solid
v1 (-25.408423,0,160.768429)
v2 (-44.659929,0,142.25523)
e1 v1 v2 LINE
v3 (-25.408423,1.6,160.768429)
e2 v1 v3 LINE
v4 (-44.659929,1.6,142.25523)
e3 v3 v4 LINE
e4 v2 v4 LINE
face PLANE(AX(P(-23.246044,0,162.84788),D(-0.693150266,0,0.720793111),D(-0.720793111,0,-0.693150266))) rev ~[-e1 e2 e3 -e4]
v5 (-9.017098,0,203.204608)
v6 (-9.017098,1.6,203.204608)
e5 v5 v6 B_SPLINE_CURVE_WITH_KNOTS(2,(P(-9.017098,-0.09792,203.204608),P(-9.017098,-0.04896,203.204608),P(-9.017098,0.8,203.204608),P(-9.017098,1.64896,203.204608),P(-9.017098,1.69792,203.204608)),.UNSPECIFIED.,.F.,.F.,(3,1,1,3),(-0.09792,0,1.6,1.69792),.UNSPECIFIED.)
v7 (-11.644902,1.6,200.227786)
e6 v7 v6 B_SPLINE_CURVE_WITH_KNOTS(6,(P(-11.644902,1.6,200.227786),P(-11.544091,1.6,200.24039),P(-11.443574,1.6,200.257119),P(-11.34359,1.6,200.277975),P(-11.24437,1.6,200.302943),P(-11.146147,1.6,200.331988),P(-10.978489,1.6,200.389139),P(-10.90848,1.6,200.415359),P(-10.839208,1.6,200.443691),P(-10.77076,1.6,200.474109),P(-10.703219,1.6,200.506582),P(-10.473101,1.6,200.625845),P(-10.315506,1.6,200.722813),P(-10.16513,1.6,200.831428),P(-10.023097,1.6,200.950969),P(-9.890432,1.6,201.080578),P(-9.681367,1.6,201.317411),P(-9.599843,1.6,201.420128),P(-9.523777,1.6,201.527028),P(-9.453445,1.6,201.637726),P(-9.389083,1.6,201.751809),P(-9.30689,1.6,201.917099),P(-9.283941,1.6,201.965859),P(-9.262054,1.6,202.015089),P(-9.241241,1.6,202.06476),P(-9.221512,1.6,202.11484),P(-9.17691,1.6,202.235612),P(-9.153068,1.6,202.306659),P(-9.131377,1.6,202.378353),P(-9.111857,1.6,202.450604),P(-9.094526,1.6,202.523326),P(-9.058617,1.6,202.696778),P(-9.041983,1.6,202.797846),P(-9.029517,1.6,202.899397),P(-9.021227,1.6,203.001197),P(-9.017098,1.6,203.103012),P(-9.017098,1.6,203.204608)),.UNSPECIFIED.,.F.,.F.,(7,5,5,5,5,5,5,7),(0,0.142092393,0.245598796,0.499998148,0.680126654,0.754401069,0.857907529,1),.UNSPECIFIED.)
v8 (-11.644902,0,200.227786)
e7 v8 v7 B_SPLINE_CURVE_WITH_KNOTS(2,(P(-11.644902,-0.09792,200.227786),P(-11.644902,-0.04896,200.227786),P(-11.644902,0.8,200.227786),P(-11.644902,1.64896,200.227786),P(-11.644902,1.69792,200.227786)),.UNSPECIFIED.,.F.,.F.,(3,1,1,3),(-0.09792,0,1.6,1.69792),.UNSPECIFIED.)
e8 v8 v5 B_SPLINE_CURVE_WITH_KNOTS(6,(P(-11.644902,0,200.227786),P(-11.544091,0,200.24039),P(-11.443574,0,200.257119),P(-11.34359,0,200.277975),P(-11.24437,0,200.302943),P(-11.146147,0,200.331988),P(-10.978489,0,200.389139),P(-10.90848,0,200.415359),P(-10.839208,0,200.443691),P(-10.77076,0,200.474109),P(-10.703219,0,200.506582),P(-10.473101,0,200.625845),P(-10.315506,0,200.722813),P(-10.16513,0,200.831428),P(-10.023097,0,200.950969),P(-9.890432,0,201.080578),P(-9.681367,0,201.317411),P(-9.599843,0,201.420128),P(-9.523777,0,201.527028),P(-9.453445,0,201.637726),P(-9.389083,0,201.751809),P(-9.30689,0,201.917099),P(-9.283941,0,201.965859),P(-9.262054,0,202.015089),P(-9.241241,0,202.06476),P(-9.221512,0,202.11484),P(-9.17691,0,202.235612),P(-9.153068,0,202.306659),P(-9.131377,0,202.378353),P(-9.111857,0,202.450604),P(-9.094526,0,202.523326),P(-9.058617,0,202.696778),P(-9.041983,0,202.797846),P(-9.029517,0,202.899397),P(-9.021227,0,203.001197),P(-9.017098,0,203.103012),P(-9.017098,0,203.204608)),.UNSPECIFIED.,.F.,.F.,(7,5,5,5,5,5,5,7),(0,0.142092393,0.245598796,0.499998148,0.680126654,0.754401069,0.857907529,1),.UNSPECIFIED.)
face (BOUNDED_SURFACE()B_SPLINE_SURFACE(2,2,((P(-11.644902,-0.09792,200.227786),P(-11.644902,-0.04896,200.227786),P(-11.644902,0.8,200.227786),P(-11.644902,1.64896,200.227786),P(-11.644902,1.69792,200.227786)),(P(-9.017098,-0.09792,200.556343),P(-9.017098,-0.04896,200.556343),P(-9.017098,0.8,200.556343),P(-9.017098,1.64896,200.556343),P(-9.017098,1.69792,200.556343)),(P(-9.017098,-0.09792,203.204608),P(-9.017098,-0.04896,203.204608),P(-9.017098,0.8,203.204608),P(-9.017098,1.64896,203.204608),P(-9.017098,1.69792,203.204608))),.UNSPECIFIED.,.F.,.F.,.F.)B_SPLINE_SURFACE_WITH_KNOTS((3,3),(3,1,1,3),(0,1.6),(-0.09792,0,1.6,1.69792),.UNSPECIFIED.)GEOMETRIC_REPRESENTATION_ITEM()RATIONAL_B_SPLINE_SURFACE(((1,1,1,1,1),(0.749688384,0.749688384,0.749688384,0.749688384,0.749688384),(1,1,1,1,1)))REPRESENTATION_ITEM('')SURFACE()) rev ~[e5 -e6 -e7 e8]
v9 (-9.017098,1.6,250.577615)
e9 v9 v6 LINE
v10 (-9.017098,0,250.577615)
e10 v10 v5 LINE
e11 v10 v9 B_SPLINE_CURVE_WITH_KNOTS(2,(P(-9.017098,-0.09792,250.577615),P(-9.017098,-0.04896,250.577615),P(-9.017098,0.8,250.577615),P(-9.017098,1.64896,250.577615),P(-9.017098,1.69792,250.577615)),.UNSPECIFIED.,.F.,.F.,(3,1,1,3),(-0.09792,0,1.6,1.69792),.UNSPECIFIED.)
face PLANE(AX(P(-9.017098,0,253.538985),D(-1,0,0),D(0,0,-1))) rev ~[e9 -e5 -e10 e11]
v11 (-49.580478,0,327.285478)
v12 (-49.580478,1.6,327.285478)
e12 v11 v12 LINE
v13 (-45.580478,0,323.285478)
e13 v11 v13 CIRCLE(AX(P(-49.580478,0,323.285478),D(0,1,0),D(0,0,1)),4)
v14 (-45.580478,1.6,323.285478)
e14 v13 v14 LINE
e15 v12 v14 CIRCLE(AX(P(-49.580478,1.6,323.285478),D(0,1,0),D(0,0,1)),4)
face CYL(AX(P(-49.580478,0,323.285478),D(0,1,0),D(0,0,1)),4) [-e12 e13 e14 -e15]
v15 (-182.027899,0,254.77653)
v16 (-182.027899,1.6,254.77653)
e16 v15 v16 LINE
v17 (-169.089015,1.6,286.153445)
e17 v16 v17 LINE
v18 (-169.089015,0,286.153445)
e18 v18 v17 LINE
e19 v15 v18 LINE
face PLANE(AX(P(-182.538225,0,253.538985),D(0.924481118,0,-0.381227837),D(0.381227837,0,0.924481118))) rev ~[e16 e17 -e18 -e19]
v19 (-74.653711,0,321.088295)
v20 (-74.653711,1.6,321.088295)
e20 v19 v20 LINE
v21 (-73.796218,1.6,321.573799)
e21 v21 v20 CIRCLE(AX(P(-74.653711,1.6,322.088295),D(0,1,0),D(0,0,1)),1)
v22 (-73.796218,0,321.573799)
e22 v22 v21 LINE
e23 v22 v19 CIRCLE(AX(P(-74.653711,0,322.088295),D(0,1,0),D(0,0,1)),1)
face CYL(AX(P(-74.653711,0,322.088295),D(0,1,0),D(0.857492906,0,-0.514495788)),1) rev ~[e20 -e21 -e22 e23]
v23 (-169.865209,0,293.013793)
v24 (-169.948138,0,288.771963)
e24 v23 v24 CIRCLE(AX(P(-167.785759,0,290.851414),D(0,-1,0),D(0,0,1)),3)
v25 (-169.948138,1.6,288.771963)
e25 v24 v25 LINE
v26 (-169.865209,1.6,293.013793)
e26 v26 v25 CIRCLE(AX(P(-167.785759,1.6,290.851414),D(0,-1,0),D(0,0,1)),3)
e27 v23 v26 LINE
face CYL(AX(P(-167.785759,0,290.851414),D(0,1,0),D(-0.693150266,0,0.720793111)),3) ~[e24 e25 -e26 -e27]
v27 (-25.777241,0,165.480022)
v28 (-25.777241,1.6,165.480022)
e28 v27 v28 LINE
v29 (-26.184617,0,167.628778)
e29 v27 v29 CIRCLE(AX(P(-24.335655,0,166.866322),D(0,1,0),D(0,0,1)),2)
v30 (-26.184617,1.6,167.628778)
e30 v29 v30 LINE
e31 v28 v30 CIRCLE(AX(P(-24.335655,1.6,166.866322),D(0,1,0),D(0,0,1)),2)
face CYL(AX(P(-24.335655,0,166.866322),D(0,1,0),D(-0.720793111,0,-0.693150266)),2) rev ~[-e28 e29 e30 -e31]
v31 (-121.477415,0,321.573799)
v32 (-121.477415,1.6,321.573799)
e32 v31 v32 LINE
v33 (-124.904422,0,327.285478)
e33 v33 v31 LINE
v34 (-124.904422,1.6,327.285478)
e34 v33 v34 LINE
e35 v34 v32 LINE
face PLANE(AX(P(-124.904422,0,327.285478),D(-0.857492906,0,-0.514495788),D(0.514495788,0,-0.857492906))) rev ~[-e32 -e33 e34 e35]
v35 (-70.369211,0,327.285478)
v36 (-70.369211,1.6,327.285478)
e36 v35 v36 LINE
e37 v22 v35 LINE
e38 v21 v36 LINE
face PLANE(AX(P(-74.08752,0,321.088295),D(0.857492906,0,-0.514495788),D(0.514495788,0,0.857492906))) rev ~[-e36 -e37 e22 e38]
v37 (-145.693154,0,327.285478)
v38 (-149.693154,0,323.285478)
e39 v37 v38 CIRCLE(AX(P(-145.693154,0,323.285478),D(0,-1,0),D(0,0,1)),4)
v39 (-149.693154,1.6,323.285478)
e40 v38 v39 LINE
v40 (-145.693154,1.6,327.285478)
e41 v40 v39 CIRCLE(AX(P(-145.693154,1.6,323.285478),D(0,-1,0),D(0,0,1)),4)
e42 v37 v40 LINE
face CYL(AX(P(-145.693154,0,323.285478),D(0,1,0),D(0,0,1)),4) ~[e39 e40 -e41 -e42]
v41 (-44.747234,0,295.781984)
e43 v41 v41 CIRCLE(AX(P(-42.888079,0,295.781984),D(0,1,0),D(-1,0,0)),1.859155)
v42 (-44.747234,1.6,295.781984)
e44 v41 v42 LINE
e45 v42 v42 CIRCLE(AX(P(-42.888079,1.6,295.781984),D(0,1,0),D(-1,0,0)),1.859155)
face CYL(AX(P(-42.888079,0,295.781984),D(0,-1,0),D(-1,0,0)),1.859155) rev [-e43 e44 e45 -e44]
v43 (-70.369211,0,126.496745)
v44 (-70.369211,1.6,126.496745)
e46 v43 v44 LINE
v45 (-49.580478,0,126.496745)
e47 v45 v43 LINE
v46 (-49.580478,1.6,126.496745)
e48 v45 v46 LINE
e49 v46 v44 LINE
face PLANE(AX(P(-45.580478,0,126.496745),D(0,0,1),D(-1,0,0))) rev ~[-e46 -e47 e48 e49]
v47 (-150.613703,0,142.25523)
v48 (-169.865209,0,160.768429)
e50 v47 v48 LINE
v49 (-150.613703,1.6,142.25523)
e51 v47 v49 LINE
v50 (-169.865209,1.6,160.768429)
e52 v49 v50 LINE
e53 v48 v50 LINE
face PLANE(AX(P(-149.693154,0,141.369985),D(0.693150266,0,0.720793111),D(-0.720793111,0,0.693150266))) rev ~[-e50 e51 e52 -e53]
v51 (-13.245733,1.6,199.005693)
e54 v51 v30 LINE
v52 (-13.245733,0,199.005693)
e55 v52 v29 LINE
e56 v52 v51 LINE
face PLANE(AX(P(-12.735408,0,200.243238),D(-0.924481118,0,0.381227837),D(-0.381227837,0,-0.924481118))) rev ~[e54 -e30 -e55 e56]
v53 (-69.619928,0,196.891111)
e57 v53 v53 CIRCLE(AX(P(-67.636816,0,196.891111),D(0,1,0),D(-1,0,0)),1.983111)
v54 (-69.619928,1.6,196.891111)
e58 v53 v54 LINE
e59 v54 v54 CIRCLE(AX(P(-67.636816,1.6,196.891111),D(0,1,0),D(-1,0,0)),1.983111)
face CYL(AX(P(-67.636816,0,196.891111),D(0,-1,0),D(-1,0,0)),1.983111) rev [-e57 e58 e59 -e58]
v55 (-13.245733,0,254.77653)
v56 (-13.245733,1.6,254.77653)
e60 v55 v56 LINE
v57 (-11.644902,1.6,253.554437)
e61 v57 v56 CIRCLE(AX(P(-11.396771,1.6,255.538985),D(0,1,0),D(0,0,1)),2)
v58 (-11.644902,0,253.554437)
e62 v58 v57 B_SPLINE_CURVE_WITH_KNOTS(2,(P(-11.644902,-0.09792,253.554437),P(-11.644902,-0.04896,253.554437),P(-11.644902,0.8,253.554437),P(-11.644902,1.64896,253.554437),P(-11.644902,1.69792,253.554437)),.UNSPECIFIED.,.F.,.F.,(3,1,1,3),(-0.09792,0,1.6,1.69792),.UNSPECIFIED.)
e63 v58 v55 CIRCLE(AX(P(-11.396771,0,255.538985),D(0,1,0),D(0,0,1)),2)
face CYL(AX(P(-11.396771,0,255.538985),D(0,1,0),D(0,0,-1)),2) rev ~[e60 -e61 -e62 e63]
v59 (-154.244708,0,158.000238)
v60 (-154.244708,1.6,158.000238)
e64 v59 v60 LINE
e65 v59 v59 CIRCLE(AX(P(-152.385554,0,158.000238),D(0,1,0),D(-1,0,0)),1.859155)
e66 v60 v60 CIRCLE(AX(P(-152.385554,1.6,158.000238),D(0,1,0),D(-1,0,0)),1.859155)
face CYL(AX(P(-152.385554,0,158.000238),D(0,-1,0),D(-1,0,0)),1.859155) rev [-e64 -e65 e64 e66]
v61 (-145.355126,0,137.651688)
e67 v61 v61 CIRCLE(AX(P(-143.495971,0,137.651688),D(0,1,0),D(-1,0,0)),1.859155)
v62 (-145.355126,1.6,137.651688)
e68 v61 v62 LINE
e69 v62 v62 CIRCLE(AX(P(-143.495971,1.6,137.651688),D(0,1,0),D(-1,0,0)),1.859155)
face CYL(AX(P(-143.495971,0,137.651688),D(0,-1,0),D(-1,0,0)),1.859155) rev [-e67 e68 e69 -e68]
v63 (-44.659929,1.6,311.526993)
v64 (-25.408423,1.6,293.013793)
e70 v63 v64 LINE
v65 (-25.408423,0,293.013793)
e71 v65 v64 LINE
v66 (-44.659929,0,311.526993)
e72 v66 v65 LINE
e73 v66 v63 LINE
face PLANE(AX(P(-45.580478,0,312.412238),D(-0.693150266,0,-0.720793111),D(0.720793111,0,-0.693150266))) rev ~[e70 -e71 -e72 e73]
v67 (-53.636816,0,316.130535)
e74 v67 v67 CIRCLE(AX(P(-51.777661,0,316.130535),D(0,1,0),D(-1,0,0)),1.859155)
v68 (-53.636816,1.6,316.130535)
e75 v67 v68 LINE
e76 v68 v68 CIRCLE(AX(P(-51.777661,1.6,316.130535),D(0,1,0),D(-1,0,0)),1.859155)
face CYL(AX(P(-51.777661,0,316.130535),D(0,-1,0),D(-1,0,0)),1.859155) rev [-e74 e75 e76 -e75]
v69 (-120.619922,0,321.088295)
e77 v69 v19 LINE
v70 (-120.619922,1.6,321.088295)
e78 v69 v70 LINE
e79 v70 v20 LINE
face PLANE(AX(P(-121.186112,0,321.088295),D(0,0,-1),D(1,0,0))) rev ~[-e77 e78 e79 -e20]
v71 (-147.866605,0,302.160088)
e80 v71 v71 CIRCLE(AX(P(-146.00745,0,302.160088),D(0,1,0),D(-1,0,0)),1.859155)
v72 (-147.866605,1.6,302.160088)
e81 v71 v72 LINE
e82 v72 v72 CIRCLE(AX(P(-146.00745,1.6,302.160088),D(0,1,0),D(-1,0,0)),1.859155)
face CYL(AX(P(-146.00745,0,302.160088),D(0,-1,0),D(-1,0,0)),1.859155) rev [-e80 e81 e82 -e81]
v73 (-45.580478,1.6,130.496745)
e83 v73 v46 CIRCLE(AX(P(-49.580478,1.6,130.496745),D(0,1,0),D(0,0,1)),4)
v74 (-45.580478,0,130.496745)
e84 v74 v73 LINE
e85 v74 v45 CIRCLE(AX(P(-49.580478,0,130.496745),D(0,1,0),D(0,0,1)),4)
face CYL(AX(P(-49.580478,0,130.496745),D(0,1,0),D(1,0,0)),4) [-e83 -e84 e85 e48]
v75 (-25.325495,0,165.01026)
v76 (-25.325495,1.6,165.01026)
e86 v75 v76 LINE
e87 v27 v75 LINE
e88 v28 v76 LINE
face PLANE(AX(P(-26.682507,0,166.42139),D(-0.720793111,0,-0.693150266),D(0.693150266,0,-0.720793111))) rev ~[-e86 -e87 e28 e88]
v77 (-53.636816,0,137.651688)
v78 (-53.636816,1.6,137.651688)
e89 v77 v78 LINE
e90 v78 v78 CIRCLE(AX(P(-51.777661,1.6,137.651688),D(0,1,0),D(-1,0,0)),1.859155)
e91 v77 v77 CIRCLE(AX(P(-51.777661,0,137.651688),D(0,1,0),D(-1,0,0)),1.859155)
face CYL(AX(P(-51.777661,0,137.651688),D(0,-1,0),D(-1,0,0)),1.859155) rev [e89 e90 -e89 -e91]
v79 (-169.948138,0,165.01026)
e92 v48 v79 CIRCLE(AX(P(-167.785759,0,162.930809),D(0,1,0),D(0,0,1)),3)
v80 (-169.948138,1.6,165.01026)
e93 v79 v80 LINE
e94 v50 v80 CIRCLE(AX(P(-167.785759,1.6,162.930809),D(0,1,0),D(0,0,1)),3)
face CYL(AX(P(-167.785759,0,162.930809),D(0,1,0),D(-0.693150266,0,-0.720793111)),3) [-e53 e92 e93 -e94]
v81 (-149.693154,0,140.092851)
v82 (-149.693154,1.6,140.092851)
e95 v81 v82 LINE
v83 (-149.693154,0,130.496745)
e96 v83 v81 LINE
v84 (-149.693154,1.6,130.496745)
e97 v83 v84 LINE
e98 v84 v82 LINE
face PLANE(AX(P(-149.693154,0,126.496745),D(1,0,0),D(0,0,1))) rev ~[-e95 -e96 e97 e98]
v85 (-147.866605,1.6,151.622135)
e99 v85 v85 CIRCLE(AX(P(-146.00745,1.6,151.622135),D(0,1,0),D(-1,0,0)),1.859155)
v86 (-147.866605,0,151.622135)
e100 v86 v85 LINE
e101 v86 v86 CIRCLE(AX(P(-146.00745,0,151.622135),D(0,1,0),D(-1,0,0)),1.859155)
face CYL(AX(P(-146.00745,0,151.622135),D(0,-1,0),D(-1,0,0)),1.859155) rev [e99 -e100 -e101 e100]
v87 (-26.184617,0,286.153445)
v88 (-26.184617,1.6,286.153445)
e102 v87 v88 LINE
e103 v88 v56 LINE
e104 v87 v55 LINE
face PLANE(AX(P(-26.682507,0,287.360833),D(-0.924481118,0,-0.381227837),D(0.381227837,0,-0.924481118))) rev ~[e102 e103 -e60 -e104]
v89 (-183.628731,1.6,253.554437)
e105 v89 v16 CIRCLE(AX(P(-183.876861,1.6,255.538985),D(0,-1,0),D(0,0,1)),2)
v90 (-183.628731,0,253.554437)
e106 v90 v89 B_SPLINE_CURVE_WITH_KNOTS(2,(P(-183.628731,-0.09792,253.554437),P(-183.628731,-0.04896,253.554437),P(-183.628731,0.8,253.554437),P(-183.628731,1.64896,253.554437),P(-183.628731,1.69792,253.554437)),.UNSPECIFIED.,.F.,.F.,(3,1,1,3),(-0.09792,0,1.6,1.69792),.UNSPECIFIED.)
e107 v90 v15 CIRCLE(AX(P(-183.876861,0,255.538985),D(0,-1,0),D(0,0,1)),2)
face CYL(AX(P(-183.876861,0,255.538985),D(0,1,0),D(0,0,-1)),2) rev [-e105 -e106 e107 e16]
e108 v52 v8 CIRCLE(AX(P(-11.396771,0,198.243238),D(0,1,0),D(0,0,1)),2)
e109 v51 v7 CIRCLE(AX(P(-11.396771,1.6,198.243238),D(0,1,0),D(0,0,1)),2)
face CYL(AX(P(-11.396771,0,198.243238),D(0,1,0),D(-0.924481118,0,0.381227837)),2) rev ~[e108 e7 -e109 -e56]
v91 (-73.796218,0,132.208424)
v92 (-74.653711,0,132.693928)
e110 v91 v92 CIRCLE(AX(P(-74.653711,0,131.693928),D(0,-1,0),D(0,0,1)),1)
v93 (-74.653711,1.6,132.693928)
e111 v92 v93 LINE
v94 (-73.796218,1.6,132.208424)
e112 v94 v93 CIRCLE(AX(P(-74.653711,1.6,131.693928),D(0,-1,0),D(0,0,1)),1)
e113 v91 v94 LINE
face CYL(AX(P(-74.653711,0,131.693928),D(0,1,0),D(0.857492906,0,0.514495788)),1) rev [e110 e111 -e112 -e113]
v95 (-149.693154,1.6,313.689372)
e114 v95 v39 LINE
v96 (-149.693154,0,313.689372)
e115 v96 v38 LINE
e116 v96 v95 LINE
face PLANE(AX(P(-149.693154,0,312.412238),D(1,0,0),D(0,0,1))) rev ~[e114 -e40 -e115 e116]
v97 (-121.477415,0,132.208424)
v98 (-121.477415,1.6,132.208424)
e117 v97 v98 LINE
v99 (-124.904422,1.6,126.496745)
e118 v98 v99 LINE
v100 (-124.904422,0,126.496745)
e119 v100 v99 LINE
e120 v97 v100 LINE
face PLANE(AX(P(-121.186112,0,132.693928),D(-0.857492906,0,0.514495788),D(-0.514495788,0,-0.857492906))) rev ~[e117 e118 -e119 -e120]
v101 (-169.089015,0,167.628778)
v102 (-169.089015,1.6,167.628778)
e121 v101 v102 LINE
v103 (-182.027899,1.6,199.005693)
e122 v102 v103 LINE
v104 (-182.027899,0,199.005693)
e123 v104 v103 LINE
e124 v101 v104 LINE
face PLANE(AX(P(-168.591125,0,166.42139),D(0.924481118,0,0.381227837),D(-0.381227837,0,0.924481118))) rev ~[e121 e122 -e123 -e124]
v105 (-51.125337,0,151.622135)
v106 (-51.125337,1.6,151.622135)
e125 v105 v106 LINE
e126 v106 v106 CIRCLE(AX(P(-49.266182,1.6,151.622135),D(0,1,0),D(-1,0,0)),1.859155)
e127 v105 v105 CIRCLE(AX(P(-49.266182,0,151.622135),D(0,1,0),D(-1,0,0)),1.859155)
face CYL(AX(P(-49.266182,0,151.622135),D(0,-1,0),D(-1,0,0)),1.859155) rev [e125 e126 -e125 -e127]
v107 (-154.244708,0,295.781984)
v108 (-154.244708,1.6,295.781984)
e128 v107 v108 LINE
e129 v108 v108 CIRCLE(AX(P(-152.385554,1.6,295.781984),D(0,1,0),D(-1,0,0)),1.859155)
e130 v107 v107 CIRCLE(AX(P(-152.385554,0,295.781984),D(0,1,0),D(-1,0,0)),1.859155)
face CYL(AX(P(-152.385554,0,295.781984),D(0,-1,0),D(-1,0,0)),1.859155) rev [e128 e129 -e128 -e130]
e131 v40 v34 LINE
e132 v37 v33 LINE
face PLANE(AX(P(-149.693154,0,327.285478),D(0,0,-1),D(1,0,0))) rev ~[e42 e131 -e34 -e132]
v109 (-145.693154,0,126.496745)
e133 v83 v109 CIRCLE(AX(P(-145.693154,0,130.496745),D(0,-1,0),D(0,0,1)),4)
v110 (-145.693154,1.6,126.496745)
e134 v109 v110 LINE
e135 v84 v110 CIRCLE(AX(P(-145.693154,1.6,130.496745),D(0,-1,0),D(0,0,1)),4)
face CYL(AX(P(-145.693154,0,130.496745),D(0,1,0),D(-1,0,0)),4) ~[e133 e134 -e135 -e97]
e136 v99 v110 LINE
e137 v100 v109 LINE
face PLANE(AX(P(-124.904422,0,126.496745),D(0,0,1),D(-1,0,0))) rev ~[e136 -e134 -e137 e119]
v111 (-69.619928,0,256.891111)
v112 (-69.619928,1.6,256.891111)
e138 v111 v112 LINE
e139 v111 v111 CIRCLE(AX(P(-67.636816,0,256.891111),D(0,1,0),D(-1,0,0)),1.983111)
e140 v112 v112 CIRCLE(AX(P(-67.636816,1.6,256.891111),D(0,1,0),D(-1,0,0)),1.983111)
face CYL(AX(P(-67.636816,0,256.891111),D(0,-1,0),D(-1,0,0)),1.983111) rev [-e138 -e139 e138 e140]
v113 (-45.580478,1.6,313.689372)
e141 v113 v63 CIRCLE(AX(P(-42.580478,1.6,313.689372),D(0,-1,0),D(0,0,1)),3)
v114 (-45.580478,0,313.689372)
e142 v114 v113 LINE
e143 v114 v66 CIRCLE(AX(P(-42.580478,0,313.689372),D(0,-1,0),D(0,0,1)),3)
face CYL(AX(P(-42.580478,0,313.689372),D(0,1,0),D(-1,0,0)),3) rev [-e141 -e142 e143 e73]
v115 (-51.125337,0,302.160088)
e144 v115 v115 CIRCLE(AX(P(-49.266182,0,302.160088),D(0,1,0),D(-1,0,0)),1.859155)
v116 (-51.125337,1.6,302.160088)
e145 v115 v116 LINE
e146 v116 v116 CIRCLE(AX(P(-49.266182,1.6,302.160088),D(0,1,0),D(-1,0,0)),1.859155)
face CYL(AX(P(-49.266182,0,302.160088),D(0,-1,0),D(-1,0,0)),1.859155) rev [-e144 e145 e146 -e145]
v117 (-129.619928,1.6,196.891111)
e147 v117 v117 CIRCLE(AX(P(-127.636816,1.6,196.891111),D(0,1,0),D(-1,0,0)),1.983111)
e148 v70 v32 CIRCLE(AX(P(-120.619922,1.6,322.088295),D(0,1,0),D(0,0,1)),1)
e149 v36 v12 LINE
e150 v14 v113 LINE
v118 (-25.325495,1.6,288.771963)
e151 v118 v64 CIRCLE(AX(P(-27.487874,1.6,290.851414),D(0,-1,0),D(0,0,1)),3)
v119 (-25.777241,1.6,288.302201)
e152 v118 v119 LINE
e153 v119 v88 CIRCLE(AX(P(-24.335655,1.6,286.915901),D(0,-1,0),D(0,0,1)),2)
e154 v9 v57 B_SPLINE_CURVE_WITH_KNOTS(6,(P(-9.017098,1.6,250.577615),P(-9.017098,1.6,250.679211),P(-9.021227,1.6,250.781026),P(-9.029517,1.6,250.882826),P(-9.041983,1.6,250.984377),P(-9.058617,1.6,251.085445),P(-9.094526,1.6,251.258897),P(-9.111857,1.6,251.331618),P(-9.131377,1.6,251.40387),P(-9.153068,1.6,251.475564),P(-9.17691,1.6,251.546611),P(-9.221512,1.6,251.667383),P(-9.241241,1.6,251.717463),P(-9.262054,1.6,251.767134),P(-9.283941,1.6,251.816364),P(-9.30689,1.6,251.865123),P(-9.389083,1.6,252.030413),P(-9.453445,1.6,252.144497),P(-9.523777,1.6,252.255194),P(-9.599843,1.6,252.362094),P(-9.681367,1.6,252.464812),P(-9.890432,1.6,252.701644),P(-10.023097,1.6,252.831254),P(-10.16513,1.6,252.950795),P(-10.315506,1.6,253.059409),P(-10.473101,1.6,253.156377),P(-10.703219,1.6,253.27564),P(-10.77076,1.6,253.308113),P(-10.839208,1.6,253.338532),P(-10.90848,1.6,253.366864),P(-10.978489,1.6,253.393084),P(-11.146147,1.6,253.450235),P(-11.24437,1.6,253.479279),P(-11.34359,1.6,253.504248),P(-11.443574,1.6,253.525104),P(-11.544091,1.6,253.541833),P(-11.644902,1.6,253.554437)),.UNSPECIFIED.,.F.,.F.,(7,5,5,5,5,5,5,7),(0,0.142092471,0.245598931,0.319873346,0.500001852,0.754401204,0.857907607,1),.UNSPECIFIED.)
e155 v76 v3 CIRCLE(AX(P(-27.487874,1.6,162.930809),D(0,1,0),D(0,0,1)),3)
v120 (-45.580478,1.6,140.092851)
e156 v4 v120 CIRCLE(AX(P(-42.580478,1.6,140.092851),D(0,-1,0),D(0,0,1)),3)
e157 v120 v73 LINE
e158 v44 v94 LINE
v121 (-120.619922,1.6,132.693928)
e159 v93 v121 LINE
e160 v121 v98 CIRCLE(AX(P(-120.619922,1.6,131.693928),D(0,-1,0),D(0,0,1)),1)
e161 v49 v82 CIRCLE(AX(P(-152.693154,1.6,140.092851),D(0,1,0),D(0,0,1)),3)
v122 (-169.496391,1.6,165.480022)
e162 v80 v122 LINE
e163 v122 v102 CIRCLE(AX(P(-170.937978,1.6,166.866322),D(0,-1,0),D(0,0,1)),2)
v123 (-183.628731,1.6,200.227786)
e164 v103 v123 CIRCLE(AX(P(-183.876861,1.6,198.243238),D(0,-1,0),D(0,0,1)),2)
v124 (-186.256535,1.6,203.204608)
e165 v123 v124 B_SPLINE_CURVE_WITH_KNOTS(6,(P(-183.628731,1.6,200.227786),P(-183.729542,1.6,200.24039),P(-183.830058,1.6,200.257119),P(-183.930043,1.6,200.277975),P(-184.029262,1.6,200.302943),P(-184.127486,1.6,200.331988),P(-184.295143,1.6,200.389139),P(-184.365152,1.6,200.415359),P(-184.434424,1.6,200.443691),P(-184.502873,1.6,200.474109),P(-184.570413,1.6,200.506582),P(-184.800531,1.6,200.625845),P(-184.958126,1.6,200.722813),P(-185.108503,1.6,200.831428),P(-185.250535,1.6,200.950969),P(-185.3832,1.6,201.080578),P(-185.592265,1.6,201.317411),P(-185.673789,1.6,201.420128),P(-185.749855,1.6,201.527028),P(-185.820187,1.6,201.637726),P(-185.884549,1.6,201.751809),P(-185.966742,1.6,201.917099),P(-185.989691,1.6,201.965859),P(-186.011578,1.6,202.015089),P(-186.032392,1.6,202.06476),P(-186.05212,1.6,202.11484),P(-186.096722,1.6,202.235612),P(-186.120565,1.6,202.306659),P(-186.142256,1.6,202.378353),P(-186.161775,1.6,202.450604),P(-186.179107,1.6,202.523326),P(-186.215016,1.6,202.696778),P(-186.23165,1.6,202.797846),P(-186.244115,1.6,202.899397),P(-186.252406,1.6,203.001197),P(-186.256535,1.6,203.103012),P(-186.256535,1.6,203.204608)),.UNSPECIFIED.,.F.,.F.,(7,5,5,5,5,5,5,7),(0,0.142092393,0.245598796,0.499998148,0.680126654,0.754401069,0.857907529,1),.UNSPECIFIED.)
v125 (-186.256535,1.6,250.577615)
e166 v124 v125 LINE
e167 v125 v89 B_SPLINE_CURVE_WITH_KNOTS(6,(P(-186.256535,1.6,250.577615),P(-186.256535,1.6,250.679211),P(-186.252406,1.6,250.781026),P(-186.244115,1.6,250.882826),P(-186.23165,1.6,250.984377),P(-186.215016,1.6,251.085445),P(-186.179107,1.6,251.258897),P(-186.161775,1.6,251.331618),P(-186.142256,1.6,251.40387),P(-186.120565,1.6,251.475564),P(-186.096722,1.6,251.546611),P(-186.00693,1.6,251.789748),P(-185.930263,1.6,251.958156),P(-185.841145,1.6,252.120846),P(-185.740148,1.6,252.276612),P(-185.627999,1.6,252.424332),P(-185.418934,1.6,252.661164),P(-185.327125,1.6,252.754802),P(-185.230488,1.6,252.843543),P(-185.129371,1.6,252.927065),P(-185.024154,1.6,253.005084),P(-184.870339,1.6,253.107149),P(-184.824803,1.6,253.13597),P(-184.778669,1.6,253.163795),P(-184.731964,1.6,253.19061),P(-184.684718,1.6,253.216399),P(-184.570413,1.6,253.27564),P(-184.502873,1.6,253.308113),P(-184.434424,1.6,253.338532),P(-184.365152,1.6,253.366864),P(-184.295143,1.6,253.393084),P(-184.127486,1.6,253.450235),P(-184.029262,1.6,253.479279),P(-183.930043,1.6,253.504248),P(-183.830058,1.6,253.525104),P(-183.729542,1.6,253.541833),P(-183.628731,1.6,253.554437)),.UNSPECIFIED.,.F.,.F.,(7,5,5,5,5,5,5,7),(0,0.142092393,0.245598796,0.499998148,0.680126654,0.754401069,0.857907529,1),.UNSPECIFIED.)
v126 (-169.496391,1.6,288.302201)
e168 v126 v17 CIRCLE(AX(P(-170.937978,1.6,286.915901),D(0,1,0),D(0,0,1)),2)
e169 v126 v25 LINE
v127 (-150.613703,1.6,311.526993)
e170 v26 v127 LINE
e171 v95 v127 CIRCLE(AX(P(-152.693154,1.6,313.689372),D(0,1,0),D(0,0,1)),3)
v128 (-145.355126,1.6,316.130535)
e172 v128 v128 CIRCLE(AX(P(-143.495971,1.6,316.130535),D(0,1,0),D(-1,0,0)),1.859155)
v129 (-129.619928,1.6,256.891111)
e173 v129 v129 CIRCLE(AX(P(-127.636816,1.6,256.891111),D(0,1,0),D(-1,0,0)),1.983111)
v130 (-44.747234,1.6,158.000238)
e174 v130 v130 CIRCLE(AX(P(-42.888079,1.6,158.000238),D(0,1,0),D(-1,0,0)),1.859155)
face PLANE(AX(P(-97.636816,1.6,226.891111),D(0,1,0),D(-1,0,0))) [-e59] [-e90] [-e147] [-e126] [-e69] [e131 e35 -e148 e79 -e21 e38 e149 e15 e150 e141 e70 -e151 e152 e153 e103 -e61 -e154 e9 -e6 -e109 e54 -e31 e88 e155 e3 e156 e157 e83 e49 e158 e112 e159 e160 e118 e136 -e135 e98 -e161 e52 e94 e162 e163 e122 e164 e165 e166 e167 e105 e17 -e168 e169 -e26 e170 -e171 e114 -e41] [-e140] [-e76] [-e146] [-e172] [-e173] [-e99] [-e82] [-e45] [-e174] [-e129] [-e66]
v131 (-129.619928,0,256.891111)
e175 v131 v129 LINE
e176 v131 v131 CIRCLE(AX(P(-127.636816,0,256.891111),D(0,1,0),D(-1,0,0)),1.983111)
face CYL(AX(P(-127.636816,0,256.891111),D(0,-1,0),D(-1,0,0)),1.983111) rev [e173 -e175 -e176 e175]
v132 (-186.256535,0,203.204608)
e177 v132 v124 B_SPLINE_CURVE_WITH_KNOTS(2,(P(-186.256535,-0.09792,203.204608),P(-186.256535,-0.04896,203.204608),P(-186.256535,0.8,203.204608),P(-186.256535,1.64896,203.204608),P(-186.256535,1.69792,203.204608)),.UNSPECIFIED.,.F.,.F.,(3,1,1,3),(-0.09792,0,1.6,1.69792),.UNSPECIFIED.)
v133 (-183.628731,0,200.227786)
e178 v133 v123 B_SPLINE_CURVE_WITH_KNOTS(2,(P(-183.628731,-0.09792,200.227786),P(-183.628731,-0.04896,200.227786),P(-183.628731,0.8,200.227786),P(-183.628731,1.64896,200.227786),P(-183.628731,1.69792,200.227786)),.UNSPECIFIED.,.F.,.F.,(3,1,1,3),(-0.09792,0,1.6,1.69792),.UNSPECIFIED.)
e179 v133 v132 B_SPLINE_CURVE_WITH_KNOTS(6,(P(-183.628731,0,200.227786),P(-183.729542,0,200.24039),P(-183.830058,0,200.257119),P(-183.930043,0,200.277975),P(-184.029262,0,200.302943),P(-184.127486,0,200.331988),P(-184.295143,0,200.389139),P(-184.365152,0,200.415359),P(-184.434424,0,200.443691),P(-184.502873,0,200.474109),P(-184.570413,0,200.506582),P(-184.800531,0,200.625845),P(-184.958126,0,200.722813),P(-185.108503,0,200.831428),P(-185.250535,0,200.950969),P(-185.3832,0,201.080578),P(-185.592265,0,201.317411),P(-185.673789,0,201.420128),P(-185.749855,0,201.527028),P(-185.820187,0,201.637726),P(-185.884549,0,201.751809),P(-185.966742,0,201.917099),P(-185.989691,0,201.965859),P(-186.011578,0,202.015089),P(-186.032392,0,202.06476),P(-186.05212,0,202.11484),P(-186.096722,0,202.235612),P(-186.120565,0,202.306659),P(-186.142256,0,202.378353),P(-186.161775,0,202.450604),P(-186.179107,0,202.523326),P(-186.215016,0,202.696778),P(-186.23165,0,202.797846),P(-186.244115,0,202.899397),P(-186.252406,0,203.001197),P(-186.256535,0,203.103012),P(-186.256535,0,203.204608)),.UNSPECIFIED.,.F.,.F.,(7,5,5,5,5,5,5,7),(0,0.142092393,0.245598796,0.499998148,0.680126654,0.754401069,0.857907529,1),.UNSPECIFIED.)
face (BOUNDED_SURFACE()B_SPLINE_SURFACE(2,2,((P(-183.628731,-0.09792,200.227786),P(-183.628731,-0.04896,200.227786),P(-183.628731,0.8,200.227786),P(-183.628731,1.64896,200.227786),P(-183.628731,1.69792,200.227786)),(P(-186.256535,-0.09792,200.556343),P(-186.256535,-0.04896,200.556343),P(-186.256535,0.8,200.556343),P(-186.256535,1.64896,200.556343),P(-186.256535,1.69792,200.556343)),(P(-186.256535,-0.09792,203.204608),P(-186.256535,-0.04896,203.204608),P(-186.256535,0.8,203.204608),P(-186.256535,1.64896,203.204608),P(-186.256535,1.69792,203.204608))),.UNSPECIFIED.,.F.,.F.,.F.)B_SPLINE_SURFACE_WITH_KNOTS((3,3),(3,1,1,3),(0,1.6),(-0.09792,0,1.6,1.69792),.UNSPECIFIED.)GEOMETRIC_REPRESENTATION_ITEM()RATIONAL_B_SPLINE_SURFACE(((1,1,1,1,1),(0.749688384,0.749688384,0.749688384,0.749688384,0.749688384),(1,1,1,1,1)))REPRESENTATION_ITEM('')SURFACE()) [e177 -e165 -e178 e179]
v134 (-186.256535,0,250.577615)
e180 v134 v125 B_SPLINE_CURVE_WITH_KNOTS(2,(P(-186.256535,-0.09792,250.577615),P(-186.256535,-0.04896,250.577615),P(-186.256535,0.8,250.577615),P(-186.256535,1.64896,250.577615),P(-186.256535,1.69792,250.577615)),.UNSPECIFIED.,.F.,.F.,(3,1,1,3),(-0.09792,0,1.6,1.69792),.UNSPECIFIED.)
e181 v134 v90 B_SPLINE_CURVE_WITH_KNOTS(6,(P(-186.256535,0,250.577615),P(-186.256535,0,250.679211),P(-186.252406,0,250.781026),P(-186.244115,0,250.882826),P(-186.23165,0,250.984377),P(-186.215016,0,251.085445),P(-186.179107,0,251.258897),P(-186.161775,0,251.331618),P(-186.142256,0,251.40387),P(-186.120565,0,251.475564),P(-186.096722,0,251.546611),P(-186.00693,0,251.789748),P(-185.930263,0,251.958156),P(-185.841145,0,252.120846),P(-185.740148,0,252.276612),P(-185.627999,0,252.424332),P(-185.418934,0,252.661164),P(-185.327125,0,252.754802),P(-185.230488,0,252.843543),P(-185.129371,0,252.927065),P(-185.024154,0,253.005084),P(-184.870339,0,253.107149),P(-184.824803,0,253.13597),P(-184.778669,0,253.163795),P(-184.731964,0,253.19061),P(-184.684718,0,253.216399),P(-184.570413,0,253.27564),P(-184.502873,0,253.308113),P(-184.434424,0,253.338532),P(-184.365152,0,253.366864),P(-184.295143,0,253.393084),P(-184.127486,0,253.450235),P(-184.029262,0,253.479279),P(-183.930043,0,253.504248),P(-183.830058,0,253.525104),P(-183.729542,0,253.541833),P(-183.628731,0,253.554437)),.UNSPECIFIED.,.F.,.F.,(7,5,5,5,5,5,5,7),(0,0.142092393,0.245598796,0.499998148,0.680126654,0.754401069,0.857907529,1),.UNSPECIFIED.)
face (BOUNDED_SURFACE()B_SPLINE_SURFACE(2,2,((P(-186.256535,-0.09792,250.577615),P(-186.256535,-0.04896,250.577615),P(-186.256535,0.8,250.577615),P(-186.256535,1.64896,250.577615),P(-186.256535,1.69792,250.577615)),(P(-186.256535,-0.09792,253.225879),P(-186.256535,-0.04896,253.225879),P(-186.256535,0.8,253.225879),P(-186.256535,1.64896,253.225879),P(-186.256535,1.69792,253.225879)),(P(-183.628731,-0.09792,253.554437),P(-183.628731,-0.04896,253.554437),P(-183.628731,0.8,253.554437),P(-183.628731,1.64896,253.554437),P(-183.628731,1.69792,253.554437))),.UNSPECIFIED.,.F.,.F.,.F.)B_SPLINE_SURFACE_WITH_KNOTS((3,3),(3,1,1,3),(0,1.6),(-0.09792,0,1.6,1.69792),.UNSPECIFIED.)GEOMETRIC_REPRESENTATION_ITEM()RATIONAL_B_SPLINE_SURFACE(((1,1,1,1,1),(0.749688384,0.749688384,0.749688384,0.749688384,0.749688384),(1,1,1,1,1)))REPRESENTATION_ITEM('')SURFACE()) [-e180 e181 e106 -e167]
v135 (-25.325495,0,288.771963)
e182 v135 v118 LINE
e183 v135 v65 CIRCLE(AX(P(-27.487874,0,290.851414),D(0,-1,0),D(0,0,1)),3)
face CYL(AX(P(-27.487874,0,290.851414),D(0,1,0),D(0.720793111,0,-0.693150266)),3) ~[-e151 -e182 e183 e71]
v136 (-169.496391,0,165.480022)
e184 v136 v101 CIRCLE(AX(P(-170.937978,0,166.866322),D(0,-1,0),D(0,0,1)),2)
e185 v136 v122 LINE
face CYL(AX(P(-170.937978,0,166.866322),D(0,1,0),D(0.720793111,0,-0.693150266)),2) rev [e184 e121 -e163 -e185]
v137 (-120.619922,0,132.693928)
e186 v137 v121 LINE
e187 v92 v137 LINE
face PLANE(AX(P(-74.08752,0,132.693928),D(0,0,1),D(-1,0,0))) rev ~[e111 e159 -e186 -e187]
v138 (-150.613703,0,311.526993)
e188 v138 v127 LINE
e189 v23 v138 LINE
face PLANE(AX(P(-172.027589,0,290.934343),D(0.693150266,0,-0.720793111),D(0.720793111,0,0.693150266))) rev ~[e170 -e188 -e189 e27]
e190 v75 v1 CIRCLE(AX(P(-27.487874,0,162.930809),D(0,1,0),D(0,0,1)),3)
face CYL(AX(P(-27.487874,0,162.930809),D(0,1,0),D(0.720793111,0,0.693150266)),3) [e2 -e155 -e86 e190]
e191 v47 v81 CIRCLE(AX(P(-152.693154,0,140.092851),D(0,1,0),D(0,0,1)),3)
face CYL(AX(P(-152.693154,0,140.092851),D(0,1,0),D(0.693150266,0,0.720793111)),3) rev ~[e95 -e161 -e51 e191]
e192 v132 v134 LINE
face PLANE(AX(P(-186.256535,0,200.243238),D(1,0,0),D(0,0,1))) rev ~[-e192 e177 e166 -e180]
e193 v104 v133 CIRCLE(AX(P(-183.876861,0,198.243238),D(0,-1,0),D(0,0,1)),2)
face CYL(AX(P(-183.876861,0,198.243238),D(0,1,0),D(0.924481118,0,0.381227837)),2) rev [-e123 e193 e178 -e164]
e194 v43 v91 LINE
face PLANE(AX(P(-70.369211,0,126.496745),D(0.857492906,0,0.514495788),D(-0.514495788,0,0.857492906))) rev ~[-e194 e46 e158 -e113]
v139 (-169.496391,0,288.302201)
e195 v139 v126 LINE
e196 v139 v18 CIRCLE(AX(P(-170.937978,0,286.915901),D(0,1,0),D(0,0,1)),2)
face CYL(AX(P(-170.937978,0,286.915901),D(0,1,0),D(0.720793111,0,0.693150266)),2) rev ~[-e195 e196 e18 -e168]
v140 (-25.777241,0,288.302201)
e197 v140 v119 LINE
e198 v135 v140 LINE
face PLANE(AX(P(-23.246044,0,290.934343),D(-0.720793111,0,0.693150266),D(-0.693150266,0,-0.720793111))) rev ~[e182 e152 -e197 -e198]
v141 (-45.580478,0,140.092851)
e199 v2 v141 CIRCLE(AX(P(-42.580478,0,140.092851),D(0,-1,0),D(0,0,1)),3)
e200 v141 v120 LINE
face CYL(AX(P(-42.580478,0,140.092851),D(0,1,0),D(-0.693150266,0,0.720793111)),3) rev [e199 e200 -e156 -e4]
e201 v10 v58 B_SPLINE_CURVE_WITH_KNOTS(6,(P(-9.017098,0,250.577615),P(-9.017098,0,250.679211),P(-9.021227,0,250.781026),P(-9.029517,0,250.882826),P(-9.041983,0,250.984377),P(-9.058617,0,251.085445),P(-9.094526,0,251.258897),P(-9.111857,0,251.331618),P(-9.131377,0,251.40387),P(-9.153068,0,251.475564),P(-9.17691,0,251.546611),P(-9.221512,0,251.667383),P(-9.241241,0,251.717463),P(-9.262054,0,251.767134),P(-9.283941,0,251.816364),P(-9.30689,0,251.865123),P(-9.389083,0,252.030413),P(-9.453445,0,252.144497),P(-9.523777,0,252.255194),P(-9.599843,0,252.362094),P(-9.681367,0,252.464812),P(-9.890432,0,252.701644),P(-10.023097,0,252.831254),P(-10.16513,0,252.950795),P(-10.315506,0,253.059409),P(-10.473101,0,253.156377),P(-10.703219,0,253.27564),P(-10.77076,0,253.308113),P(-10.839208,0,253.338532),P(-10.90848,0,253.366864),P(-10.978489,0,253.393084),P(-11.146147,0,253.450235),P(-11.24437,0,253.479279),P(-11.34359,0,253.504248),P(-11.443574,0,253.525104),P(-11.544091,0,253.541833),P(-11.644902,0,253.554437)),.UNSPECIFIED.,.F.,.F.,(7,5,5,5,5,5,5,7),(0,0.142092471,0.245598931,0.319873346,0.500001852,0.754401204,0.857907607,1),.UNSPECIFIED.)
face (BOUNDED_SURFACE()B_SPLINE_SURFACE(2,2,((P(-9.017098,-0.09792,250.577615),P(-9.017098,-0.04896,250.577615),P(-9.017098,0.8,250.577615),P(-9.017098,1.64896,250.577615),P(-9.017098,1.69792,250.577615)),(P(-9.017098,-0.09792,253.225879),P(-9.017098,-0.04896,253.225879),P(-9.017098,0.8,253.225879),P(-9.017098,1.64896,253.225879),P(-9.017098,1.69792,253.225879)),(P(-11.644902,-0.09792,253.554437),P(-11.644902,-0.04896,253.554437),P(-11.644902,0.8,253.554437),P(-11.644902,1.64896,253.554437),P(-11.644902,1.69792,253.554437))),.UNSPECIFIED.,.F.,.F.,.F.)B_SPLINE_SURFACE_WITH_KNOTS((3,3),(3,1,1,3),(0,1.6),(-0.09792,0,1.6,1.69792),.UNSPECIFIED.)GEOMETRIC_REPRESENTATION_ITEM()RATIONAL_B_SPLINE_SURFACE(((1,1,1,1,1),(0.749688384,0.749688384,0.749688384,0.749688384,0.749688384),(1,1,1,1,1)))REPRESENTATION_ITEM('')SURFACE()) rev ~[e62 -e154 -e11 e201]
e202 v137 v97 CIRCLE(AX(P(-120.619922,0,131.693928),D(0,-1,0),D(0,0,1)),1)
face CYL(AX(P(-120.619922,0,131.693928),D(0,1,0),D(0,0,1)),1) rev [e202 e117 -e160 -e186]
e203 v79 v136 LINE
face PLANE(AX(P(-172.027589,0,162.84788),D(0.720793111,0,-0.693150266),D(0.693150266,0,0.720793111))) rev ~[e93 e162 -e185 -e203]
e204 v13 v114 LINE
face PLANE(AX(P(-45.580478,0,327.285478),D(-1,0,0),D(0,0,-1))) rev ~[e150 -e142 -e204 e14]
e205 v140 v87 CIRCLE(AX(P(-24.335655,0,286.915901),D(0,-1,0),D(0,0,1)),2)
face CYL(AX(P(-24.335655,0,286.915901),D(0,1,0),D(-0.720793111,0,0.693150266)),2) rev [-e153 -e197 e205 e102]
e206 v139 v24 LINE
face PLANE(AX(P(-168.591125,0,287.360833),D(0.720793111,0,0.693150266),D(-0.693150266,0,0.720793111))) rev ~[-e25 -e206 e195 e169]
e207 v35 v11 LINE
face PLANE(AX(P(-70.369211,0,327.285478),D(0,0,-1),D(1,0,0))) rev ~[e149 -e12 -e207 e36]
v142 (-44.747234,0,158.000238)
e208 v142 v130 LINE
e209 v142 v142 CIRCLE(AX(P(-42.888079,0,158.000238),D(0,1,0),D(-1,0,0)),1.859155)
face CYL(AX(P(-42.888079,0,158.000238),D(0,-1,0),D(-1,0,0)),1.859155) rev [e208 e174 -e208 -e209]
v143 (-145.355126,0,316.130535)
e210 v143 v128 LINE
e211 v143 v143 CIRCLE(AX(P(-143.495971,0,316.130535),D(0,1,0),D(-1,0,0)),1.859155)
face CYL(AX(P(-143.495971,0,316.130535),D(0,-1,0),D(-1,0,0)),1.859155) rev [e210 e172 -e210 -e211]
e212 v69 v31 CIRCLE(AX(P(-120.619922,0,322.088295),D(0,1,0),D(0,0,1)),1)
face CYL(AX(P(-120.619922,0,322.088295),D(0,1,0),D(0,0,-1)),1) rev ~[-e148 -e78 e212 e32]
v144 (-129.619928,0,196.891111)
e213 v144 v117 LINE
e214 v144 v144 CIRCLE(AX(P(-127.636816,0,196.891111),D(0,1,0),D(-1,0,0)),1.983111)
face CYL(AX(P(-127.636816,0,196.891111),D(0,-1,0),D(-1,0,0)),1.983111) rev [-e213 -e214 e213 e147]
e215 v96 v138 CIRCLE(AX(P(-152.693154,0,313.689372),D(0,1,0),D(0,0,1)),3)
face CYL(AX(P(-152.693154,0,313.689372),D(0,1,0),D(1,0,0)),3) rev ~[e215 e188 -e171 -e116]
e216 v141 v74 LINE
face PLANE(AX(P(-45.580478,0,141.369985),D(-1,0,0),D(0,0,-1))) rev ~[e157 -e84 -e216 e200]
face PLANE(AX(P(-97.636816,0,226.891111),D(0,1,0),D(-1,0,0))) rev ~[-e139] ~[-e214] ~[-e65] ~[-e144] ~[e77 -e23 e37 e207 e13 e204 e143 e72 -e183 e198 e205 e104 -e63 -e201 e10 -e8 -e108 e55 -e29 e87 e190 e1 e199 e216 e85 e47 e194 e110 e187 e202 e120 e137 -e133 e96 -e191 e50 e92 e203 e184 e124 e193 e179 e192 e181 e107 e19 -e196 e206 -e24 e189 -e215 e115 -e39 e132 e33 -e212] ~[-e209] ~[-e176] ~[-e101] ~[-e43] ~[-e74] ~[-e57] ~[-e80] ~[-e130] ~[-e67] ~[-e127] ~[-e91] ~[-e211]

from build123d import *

# Parameters (mm, degrees)
SKETCH1_R        = 1.85915493
SKETCH1_R_2      = 1.983111479
EXTRUSION1_DEPTH = 1.6
FILLET1_R        = 1
FILLET2_R        = 4
FILLET3_R        = 3
FILLET4_R        = 3
FILLET5_R        = 2
FILLET6_R        = 2
FILLET7_R        = 3
FILLET8_R        = 3
FILLET9_R        = 2
FILLET10_R       = 2
FILLET11_R       = 3


with BuildPart() as part:
    # Sketch1 → Extrusion1 (new body)
    with BuildSketch(Plane(origin=(0, 0, 0), x_dir=(-1, 0, 0), z_dir=(0, 1, 0))):
        Polygon((74.087520418, 321.088295015), (70.369210559, 327.285477572), (45.580478165, 327.285477572), (45.580478165, 312.412238135), (23.246043749, 290.934342561), (26.682507041, 287.360833055), (12.735407819, 253.538985229), (9.017097883, 253.538985229), (9.017097883, 226.891111382), (9.017097883, 200.243237534), (12.735407819, 200.243237534), (26.682507041, 166.421389708), (23.246043749, 162.847880202), (45.580478165, 141.369984628), (45.580478165, 126.496745191), (70.369210559, 126.496745191), (74.087520418, 132.693927748), (97.636816193, 132.693927748), (121.186111968, 132.693927748), (124.904421827, 126.496745191), (149.693154221, 126.496745191), (149.693154221, 141.369984628), (172.027588636, 162.847880202), (168.591125345, 166.421389708), (182.538224567, 200.243237534), (186.256534503, 200.243237534), (186.256534503, 226.891111382), (186.256534503, 253.538985229), (182.538224567, 253.538985229), (168.591125345, 287.360833055), (172.027588636, 290.934342561), (149.693154221, 312.412238135), (149.693154221, 327.285477572), (124.904421827, 327.285477572), (121.186111968, 321.088295015), (97.636816193, 321.088295015), align=None)
        with Locations((49.266182018, 151.62213525)):
            Circle(SKETCH1_R, mode=Mode.SUBTRACT)
        with Locations((51.777661187, 316.130534525)):
            Circle(SKETCH1_R, mode=Mode.SUBTRACT)
        with Locations((49.266182018, 302.160087513)):
            Circle(SKETCH1_R, mode=Mode.SUBTRACT)
        with Locations((143.495971199, 137.651688238)):
            Circle(SKETCH1_R, mode=Mode.SUBTRACT)
        with Locations((146.007450368, 151.62213525)):
            Circle(SKETCH1_R, mode=Mode.SUBTRACT)
        with Locations((143.495971199, 316.130534525)):
            Circle(SKETCH1_R, mode=Mode.SUBTRACT)
        with Locations((146.007450368, 302.160087513)):
            Circle(SKETCH1_R, mode=Mode.SUBTRACT)
        with Locations((51.777661187, 137.651688238)):
            Circle(SKETCH1_R, mode=Mode.SUBTRACT)
        with Locations((67.636816193, 196.891111382)):
            Circle(SKETCH1_R_2, mode=Mode.SUBTRACT)
        with Locations((67.636816193, 256.891111382)):
            Circle(SKETCH1_R_2, mode=Mode.SUBTRACT)
        with Locations((42.888078851, 158.000238416)):
            Circle(SKETCH1_R, mode=Mode.SUBTRACT)
        with Locations((152.385553534, 295.781984347)):
            Circle(SKETCH1_R, mode=Mode.SUBTRACT)
        with Locations((42.888078851, 295.781984347)):
            Circle(SKETCH1_R, mode=Mode.SUBTRACT)
        with Locations((127.636816193, 256.891111382)):
            Circle(SKETCH1_R_2, mode=Mode.SUBTRACT)
        with Locations((152.385553534, 158.000238416)):
            Circle(SKETCH1_R, mode=Mode.SUBTRACT)
        with Locations((127.636816193, 196.891111382)):
            Circle(SKETCH1_R_2, mode=Mode.SUBTRACT)
    extrude(amount=EXTRUSION1_DEPTH)

    # Fillet1
    fillet1_edges = [part.edges().sort_by_distance(p)[0] for p in [
        (-121.186111968, 0.8, 321.088295015),
        (-121.186111968, 0.8, 132.693927748),
        (-74.087520418, 0.8, 132.693927748),
        (-74.087520418, 0.8, 321.088295015),
    ]]
    fillet(fillet1_edges, radius=FILLET1_R)

    # Fillet2
    fillet2_edges = [part.edges().sort_by_distance(p)[0] for p in [
        (-149.693154221, 0.8, 327.285477572),
        (-149.693154221, 0.8, 126.496745191),
        (-45.580478165, 0.8, 126.496745191),
        (-45.580478165, 0.8, 327.285477572),
    ]]
    fillet(fillet2_edges, radius=FILLET2_R)

    # Fillet3
    fillet3_edges = [part.edges().sort_by_distance(p)[0] for p in [
        (-149.693154221, 0.8, 312.412238135),
        (-149.693154221, 0.8, 141.369984628),
        (-45.580478165, 0.8, 141.369984628),
        (-45.580478165, 0.8, 312.412238135),
    ]]
    fillet(fillet3_edges, radius=FILLET3_R)

    # Fillet4
    fillet4_edges = [part.edges().sort_by_distance(p)[0] for p in [
        (-172.027588636, 0.8, 290.934342561),
    ]]
    fillet(fillet4_edges, radius=FILLET4_R)

    # Fillet5
    fillet5_edges = [part.edges().sort_by_distance(p)[0] for p in [
        (-168.591125345, 0.8, 287.360833055),
    ]]
    fillet(fillet5_edges, radius=FILLET5_R)

    # Fillet6
    fillet6_edges = [part.edges().sort_by_distance(p)[0] for p in [
        (-26.682507041, 0.8, 287.360833055),
    ]]
    fillet(fillet6_edges, radius=FILLET6_R)

    # Fillet7
    fillet7_edges = [part.edges().sort_by_distance(p)[0] for p in [
        (-23.246043749, 0.8, 290.934342561),
    ]]
    fillet(fillet7_edges, radius=FILLET7_R)

    # Fillet8
    fillet8_edges = [part.edges().sort_by_distance(p)[0] for p in [
        (-172.027588636, 0.8, 162.847880202),
        (-23.246043749, 0.8, 162.847880202),
    ]]
    fillet(fillet8_edges, radius=FILLET8_R)

    # Fillet9
    fillet9_edges = [part.edges().sort_by_distance(p)[0] for p in [
        (-168.591125345, 0.8, 166.421389708),
        (-26.682507041, 0.8, 166.421389708),
    ]]
    fillet(fillet9_edges, radius=FILLET9_R)

    # Fillet10
    fillet10_edges = [part.edges().sort_by_distance(p)[0] for p in [
        (-182.538224567, 0.8, 253.538985229),
        (-182.538224567, 0.8, 200.243237534),
        (-12.735407819, 0.8, 200.243237534),
        (-12.735407819, 0.8, 253.538985229),
    ]]
    fillet(fillet10_edges, radius=FILLET10_R)

    # Fillet11
    fillet11_edges = [part.edges().sort_by_distance(p)[0] for p in [
        (-186.256534503, 0.8, 200.243237534),
        (-186.256534503, 0.8, 253.538985229),
        (-9.017097883, 0.8, 253.538985229),
        (-9.017097883, 0.8, 200.243237534),
    ]]
    fillet(fillet11_edges, radius=FILLET11_R)


solid = part.part
